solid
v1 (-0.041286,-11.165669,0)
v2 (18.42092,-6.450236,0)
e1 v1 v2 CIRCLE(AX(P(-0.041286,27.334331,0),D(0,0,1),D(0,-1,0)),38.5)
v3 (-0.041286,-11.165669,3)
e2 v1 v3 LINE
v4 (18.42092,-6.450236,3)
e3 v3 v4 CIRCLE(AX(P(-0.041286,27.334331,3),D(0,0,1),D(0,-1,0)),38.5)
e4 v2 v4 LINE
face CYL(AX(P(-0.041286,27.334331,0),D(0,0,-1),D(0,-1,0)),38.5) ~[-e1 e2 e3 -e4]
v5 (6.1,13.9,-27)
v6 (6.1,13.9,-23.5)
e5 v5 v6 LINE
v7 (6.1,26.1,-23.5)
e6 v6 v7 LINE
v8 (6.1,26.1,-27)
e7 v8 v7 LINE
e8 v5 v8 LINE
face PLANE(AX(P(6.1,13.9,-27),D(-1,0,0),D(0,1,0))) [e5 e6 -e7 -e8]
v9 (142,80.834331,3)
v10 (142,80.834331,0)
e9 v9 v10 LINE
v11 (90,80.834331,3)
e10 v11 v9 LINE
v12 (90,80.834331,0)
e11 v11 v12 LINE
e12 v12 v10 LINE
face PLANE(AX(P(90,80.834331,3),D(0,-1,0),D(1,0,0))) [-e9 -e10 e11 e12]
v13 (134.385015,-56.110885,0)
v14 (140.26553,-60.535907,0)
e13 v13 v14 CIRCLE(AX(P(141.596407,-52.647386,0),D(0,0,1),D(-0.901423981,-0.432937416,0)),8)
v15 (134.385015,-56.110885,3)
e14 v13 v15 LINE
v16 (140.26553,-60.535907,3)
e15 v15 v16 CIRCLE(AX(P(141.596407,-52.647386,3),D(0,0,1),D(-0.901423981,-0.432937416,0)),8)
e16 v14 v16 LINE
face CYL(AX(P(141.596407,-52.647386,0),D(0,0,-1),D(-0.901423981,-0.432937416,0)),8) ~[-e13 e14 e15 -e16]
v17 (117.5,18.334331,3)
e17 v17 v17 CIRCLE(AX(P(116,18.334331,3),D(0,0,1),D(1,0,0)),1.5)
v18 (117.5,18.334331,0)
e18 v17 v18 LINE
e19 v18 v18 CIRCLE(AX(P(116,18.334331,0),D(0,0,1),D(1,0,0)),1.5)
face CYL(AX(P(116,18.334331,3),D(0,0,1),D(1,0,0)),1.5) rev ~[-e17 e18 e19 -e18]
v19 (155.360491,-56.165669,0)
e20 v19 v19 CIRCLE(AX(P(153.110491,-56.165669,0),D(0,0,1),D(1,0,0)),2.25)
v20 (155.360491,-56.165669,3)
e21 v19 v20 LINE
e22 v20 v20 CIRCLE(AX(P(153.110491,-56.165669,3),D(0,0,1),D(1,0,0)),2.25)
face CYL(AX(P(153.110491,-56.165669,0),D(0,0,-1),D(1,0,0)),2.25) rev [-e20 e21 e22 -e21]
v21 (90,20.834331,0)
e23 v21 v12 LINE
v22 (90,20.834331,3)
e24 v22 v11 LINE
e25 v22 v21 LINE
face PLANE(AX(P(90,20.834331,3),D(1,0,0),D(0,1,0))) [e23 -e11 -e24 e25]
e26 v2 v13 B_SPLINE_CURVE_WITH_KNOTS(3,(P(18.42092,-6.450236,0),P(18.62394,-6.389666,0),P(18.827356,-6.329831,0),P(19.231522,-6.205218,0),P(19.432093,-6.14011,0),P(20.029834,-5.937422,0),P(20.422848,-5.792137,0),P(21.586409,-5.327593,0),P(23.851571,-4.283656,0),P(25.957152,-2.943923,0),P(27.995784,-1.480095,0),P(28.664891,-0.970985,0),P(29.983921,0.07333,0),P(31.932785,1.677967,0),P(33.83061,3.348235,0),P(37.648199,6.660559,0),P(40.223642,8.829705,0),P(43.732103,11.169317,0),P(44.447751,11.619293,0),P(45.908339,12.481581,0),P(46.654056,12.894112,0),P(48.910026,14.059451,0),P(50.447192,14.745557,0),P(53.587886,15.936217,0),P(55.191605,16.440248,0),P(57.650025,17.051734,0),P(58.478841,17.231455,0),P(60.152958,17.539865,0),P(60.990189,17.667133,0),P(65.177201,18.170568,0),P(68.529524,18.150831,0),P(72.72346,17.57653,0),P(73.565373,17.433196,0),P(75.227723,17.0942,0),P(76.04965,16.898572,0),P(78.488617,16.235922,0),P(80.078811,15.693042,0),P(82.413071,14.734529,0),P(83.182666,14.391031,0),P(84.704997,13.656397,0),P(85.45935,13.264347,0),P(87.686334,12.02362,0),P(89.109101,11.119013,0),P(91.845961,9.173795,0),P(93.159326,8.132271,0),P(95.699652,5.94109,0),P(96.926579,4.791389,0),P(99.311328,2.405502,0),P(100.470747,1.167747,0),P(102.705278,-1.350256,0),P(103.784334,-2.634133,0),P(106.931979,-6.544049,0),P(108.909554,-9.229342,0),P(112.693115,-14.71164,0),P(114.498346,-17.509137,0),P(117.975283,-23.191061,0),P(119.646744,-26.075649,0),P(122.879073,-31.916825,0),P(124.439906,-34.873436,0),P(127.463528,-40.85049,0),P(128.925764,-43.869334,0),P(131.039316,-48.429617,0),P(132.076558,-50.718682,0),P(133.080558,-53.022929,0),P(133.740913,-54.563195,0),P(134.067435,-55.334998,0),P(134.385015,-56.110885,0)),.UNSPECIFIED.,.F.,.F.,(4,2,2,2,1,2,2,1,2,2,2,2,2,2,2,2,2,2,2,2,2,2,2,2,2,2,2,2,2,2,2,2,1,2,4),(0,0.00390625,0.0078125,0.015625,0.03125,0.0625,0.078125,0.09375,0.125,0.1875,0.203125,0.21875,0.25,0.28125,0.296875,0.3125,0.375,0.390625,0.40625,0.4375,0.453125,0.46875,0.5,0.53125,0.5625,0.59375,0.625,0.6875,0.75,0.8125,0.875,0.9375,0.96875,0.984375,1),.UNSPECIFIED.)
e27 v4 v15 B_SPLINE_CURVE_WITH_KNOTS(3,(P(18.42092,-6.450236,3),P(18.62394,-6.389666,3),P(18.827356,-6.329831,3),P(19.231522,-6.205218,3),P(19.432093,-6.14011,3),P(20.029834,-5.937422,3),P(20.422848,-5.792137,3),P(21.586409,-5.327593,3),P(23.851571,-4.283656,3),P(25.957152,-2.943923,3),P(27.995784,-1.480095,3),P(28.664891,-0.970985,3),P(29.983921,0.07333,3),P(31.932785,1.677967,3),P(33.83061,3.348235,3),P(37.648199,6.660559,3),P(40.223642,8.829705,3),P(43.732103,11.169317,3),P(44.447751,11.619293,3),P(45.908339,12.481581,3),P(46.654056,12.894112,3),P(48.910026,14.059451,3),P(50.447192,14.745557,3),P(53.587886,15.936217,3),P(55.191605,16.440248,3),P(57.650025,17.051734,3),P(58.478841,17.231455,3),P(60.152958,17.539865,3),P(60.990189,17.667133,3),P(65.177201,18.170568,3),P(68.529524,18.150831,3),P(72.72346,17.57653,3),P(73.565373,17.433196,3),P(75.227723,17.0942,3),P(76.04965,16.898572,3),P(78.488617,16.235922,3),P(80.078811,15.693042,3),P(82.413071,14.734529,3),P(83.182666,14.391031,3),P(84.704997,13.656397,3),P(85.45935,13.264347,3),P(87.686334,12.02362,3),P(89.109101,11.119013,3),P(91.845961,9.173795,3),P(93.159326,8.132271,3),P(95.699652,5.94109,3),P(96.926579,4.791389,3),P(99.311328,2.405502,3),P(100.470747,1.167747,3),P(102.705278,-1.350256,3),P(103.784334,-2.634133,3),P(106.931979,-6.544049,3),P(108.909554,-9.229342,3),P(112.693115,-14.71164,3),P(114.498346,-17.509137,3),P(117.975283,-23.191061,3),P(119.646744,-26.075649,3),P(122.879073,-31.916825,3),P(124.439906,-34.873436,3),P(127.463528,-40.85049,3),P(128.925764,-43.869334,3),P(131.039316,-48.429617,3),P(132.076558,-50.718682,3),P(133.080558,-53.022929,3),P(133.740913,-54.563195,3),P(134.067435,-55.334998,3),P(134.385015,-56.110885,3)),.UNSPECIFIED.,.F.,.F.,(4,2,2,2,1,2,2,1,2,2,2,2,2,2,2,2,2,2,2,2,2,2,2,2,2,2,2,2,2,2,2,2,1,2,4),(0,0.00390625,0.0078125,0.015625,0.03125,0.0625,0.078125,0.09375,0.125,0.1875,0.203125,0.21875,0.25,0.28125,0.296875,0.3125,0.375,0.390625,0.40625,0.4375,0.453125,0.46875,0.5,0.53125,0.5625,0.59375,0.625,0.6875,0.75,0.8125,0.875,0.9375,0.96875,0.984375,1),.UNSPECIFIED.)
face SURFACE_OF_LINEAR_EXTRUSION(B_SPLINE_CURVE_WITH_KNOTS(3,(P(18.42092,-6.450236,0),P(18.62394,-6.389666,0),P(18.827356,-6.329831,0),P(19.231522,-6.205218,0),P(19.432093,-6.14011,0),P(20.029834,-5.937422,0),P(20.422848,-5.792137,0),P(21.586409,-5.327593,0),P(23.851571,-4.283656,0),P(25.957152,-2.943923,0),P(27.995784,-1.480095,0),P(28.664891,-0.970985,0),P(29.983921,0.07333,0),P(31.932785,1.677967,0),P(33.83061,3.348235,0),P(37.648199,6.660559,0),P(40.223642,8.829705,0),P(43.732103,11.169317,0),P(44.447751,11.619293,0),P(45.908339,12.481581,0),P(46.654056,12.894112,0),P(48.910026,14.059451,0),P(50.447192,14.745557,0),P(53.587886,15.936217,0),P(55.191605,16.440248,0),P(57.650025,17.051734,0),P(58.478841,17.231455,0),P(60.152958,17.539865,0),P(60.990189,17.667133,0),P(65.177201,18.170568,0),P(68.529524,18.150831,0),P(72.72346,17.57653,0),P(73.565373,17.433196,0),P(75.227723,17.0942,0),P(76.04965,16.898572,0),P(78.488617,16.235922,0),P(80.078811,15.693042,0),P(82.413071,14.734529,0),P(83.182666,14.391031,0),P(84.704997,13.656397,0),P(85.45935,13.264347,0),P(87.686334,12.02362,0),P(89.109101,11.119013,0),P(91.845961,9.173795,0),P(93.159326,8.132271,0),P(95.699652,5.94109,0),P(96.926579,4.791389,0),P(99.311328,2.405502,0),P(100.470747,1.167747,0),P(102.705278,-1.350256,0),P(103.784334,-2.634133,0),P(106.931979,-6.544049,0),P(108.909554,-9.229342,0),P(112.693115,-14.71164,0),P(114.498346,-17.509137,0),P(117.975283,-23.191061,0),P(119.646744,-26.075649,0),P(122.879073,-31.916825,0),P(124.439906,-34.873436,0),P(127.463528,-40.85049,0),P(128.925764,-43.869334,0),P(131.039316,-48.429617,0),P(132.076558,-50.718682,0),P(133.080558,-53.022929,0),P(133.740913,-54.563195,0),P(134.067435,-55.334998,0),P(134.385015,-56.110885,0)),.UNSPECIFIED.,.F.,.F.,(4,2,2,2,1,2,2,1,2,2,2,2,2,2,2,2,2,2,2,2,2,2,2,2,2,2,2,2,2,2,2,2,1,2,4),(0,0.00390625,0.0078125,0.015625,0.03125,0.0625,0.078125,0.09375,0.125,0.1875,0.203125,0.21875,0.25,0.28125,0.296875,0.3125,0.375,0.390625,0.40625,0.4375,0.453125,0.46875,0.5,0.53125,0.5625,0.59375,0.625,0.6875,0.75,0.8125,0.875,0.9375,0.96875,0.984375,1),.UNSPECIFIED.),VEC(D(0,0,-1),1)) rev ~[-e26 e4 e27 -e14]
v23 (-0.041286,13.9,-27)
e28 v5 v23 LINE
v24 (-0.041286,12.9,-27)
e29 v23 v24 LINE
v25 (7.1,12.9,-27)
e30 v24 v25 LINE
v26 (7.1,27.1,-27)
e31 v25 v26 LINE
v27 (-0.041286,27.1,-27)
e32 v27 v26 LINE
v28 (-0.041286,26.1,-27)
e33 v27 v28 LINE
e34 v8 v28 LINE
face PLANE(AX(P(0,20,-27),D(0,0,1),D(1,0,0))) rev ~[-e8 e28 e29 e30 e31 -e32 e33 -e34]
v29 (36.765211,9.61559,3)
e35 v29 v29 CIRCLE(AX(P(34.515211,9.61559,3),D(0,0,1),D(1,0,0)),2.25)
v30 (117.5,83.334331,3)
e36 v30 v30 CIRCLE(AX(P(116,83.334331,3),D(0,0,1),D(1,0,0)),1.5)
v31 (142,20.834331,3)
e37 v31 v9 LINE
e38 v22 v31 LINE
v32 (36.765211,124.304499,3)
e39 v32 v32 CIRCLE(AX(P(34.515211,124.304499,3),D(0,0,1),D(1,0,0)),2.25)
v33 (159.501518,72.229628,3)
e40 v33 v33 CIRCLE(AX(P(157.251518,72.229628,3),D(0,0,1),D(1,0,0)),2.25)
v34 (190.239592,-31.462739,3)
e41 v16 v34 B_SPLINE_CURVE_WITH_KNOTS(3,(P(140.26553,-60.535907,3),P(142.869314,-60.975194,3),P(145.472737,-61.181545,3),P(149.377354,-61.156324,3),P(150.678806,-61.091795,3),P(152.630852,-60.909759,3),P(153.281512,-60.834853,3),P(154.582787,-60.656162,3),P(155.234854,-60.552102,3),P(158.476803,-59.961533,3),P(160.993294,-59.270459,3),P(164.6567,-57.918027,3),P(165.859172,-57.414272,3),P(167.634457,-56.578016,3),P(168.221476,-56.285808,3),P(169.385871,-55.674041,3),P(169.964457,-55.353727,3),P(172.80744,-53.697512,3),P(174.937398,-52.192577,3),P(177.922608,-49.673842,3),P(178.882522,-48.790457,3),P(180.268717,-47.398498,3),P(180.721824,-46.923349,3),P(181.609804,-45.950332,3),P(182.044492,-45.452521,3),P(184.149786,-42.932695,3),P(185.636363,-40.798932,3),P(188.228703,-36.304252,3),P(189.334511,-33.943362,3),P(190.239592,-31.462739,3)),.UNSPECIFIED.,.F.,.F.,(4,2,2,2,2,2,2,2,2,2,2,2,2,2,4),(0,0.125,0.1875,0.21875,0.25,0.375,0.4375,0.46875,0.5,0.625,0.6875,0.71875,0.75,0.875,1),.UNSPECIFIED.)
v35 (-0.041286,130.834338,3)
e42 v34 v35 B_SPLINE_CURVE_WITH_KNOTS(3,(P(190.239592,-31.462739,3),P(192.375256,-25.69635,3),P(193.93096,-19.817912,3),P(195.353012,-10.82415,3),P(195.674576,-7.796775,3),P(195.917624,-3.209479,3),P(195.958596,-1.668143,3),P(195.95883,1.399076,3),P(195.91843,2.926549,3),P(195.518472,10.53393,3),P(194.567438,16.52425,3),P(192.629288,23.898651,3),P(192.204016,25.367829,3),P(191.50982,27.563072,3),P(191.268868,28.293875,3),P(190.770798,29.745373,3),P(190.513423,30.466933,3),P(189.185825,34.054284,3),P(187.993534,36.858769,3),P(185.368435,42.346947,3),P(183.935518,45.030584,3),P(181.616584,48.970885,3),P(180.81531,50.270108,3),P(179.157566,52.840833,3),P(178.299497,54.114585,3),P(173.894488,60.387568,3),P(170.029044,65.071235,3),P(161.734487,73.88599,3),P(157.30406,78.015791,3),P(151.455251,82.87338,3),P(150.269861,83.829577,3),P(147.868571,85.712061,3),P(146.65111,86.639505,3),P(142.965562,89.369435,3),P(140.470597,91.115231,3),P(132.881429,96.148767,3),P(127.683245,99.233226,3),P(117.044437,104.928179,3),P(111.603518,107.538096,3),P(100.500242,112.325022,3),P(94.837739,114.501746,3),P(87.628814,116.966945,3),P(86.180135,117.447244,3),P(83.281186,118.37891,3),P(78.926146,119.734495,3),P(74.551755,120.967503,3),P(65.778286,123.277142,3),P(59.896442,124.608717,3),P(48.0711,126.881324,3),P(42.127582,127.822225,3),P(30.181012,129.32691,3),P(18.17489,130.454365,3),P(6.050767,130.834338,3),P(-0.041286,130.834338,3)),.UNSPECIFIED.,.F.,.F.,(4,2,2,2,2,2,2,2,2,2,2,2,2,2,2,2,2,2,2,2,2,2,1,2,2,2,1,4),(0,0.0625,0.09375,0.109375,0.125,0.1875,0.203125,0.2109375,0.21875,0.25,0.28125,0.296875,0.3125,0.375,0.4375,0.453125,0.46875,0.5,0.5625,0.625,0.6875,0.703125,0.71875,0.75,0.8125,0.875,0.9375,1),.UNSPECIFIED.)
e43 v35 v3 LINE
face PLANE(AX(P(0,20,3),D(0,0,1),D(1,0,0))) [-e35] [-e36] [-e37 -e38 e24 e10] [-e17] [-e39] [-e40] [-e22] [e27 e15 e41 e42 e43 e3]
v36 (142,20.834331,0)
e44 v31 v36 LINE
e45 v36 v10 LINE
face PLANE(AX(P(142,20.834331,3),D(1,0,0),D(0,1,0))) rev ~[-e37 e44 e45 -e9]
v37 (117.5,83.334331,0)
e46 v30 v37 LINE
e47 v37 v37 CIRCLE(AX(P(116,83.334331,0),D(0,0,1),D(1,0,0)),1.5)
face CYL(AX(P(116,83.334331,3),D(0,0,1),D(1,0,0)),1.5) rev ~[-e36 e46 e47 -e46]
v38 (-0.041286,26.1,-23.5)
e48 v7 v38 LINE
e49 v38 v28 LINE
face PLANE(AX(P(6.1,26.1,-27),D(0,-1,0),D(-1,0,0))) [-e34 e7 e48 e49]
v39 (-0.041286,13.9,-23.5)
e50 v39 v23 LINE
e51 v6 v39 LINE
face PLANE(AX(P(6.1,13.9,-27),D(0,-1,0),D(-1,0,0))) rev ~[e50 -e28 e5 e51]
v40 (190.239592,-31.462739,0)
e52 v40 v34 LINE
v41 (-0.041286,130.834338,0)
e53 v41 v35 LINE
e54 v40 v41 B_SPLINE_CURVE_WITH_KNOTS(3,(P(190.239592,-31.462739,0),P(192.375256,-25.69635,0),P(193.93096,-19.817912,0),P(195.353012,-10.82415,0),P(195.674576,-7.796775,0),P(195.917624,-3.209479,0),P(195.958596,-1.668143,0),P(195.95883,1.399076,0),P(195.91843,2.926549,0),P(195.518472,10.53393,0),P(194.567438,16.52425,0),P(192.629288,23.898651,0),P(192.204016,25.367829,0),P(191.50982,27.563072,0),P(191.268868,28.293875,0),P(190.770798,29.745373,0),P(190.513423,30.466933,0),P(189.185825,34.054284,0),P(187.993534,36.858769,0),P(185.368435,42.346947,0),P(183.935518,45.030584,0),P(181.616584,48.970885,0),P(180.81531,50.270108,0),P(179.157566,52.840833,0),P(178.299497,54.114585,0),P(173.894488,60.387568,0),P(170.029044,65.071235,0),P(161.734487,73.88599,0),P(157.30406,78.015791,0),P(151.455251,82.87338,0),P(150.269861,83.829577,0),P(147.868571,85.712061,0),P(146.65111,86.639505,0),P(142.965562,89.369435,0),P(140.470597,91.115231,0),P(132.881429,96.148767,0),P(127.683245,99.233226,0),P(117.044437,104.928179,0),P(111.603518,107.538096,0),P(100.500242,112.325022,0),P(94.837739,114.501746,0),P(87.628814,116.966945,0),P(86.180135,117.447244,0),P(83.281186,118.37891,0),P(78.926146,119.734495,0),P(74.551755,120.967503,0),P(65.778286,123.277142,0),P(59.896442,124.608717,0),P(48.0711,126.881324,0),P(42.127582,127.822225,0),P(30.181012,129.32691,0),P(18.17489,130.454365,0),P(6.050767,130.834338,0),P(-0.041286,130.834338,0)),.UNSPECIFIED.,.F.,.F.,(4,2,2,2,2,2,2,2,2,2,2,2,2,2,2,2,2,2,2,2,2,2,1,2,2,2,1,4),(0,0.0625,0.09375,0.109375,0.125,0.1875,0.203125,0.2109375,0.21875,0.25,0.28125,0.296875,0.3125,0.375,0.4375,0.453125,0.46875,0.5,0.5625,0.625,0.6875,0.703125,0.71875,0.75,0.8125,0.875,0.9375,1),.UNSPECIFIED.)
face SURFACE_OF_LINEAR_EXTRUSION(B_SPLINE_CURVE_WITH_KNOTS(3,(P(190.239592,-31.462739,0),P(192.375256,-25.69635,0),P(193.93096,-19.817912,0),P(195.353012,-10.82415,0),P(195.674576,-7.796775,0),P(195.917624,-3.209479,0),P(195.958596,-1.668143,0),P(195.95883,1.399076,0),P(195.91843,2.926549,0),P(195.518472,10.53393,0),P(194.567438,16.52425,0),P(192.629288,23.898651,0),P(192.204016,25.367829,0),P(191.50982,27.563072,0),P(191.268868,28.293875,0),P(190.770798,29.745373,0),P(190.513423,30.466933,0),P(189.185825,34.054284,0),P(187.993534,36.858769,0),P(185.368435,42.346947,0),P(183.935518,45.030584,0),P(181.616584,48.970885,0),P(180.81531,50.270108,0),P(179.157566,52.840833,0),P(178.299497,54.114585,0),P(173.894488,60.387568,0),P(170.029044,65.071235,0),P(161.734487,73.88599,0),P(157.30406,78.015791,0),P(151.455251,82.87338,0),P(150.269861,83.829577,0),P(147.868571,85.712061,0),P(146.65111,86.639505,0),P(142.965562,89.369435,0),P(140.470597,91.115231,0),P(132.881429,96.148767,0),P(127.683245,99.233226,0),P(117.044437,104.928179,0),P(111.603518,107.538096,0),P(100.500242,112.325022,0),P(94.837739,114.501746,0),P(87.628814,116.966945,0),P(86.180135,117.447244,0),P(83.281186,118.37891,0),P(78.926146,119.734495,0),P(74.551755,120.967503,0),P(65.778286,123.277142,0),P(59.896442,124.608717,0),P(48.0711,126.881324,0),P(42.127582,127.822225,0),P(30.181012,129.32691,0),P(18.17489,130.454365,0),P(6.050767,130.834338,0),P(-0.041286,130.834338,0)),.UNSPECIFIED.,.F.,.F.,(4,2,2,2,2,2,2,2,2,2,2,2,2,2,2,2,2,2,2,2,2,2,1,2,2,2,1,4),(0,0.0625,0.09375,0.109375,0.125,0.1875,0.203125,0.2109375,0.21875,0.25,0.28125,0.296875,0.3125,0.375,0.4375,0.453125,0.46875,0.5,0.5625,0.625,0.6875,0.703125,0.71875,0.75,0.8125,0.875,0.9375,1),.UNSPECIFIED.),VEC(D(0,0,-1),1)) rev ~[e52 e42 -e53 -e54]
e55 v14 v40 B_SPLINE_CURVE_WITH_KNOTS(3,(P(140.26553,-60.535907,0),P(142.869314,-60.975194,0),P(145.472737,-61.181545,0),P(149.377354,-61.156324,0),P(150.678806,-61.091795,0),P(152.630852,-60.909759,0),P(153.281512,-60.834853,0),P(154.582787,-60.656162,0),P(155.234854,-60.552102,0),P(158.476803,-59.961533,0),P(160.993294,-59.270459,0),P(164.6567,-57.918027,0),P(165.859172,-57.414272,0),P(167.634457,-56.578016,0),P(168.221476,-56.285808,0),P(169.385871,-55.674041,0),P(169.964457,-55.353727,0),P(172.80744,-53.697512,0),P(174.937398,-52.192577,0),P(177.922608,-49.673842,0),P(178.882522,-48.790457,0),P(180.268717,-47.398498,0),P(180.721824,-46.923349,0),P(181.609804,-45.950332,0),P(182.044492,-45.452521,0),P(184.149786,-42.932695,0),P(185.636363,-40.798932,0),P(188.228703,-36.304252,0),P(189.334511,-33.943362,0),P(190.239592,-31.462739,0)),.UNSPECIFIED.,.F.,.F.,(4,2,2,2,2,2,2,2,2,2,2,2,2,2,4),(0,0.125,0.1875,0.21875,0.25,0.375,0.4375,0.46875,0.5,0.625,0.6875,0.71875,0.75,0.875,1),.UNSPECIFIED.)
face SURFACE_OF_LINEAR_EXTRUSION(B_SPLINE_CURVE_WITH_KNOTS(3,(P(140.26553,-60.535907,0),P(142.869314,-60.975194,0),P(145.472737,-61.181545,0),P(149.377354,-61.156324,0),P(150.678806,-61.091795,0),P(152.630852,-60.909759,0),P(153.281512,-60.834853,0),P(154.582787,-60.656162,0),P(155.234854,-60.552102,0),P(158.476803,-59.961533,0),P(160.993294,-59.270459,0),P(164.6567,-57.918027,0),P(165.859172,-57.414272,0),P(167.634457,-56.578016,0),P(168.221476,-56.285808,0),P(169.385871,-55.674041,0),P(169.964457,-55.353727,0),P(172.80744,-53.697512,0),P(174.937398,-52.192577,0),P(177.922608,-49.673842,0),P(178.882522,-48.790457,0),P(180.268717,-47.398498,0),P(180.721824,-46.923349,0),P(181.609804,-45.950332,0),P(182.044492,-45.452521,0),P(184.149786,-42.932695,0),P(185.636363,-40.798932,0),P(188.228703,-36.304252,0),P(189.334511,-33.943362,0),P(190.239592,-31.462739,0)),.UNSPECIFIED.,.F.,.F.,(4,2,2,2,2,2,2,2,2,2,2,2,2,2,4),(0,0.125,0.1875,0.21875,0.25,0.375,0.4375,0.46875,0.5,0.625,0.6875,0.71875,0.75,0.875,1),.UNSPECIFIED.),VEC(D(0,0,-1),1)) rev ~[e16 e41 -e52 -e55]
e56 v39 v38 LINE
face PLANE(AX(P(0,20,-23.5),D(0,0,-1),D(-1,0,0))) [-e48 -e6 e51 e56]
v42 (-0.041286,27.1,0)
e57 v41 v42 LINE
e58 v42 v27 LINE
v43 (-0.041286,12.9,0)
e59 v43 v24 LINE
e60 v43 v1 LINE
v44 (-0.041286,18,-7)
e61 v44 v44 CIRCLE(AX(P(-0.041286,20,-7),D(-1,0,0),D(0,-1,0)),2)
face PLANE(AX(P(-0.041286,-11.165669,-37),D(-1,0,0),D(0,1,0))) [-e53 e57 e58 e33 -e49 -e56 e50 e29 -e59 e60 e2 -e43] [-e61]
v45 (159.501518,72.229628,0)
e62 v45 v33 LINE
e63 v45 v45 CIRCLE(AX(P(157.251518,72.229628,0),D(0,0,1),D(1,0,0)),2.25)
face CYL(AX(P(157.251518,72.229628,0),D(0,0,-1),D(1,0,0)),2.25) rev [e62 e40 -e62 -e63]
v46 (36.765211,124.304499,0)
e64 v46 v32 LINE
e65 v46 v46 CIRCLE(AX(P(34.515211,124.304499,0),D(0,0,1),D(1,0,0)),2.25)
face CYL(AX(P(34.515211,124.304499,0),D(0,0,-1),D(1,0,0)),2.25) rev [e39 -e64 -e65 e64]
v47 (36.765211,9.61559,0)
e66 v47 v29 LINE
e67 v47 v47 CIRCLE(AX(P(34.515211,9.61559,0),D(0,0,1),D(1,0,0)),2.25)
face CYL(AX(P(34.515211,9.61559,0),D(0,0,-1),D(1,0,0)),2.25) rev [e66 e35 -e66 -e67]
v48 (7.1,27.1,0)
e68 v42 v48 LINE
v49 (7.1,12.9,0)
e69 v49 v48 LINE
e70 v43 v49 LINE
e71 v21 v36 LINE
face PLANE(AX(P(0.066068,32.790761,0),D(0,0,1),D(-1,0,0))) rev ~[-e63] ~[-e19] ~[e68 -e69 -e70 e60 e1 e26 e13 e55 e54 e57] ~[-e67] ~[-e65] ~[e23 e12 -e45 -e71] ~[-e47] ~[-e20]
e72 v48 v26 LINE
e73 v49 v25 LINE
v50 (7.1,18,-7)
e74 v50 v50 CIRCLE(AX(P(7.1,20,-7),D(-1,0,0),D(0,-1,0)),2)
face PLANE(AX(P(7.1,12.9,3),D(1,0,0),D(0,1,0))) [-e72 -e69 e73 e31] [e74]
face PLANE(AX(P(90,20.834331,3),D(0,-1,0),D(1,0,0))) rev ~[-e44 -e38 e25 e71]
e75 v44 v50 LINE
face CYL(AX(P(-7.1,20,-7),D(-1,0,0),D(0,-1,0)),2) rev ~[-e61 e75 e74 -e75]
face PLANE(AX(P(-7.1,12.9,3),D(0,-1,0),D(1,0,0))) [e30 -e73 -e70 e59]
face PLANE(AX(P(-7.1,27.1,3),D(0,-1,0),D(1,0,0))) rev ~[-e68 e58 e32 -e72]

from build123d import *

# Parameters (mm, degrees)
CROQUIS7_R                 = 2.25
CROQUIS7_R_2               = 2
SALIENTE_EXTRUIR5_DEPTH    = 3
CROQUIS8_W                 = 14.2
CROQUIS8_H                 = 14.2
SALIENTE_EXTRUIR6_DEPTH    = 30
CROQUIS9_W                 = 12.2
CROQUIS9_H                 = 12.2
CORTAR_EXTRUIR3_DEPTH      = 3.5
CROQUIS10_R                = 1.5
CROQUIS10_W                = 52
CROQUIS10_H                = 60
CORTAR_EXTRUIR4_DEPTH      = 10
CROQUIS11_R                = 2
CORTAR_EXTRUIR5_DEPTH      = 244.062677057
CORTAR_EXTRUIR6_DEPTH      = 10
CORTAR_EXTRUIR6_DEPTH_BACK = 40


with BuildPart() as part:
    # Croquis7 → Saliente-Extruir5 (new body)
    with BuildSketch(Plane(origin=(0, 0, 0), x_dir=(-1, 0, 0), z_dir=(0, 0, 1))):
        with BuildLine():
            ThreePointArc((140.348102944, 60.535906772), (136.868803986, 59.039740818), (134.467588313, 56.110884882))
            add(Edge.make_bspline(
                [(134.467588313, 56.110884882), (134.149654238, 55.334133411), (133.822967437, 54.561974551), (133.162468089, 53.021395753), (132.827829682, 52.253409151), (131.813137405, 49.95510413), (129.740491118, 45.381193792), (127.554094799, 40.866968809), (124.537000873, 34.901469121), (122.977142227, 31.945642839), (119.740627649, 26.095274542), (118.063871011, 23.200785369), (115.441409795, 18.91536637), (114.549338579, 17.496294783), (112.72383113, 14.679856092), (111.790405163, 13.282650688), (108.93090019, 9.143306555), (106.942158815, 6.448783713), (103.789519774, 2.5408027), (102.709995436, 1.260750849), (101.03852657, -0.618140745), (100.472644941, -1.237551258), (99.321371183, -2.460973153), (98.735216612, -3.065706766), (96.949611744, -4.848397798), (95.725315546, -5.992490783), (93.193460811, -8.17168186), (91.885551874, -9.206321258), (89.163749912, -11.136861166), (87.750446472, -12.033533472), (85.542380661, -13.263200338), (84.789940556, -13.654501875), (83.273337808, -14.386945731), (82.507210908, -14.729300557), (80.185156663, -15.684162987), (78.605545886, -16.224438396), (76.18690973, -16.88473526), (75.372506069, -17.079850593), (73.726807841, -17.418565616), (72.893614615, -17.562445585), (68.705243638, -18.145869815), (65.366316414, -18.172349369), (61.206552273, -17.685687456), (60.375297364, -17.562248247), (58.714202725, -17.262432714), (57.885084071, -17.085992517), (55.432802766, -16.486020136), (53.833347943, -15.990242323), (50.701372835, -14.817551431), (49.168805031, -14.140766948), (46.919374597, -12.991848579), (46.176109393, -12.585433423), (44.71844096, -11.734682347), (44.00330992, -11.290078896), (41.89786804, -9.900210079), (40.548675898, -8.897248108), (37.915404815, -6.799959147), (36.631444442, -5.705240729), (34.080234787, -3.494531224), (32.813017874, -2.37801674), (30.236662295, -0.200762722), (28.927839074, 0.860396497), (26.200660035, 2.836986891), (24.782534521, 3.752724475), (22.513326989, 4.937380803), (21.731218891, 5.30092632), (20.538800155, 5.779648827), (20.137325925, 5.928599802), (19.528876591, 6.135464876), (19.325056364, 6.201754934), (18.915138447, 6.32828856), (18.709169476, 6.388873867), (18.503492991, 6.450235701)],
                knots=[0, 0, 0, 0, 0.015625, 0.015625, 0.03125, 0.03125, 0.0625, 0.125, 0.125, 0.1875, 0.1875, 0.25, 0.25, 0.28125, 0.28125, 0.3125, 0.3125, 0.375, 0.375, 0.40625, 0.40625, 0.421875, 0.421875, 0.4375, 0.4375, 0.46875, 0.46875, 0.5, 0.5, 0.53125, 0.53125, 0.546875, 0.546875, 0.5625, 0.5625, 0.59375, 0.59375, 0.609375, 0.609375, 0.625, 0.625, 0.6875, 0.6875, 0.703125, 0.703125, 0.71875, 0.71875, 0.75, 0.75, 0.78125, 0.78125, 0.796875, 0.796875, 0.8125, 0.8125, 0.84375, 0.84375, 0.875, 0.875, 0.90625, 0.90625, 0.9375, 0.9375, 0.96875, 0.96875, 0.984375, 0.984375, 0.9921875, 0.9921875, 0.99609375, 0.99609375, 1, 1, 1, 1], degree=3))
            ThreePointArc((18.503492991, 6.450235701), (9.568725558, 9.968187997), (0.041286445, 11.165669263))
            ThreePointArc((0.041286445, 11.165669263), (-9.486152668, 9.968187997), (-18.420920101, 6.450235701))
            add(Edge.make_bspline(
                [(-18.420920101, 6.450235701), (-18.623940111, 6.389666404), (-18.827355959, 6.329830822), (-19.231521602, 6.205217931), (-19.432092857, 6.140109685), (-20.029834347, 5.937422038), (-20.422847663, 5.792137477), (-21.586408936, 5.327592923), (-23.851571133, 4.283655696), (-25.957152112, 2.943922804), (-27.995784216, 1.480095188), (-28.664890842, 0.970984568), (-29.983921002, -0.073329511), (-31.932785293, -1.677966714), (-33.830609801, -3.348234863), (-37.648198778, -6.660559044), (-40.223642402, -8.829704647), (-43.732103414, -11.16931662), (-44.447751487, -11.619293464), (-45.90833942, -12.481581481), (-46.654055565, -12.894111913), (-48.910026429, -14.05945093), (-50.447191979, -14.745557377), (-53.587886072, -15.936216829), (-55.191605427, -16.440247818), (-57.65002542, -17.051733947), (-58.478840799, -17.231454942), (-60.152957814, -17.539864916), (-60.990189376, -17.667132679), (-65.177200996, -18.170568112), (-68.529524477, -18.150830669), (-72.723459823, -17.57652989), (-73.56537326, -17.433195972), (-75.227722525, -17.094199895), (-76.049649818, -16.898572429), (-78.48861692, -16.235921786), (-80.078810549, -15.693041625), (-82.413070582, -14.734529063), (-83.182665748, -14.391031128), (-84.704996506, -13.656396586), (-85.459349689, -13.264347284), (-87.686334065, -12.023619951), (-89.109100698, -11.119013238), (-91.845960574, -9.173794538), (-93.159325686, -8.13227129), (-95.699651961, -5.941089833), (-96.92657944, -4.791389468), (-99.311327975, -2.405501713), (-100.470747098, -1.167746926), (-102.705277757, 1.350255866), (-103.784333544, 2.63413345), (-106.931979291, 6.54404893), (-108.909553818, 9.229342103), (-112.69311531, 14.711639925), (-114.498345943, 17.509136981), (-117.975283478, 23.191061246), (-119.646743776, 26.075649006), (-122.879072623, 31.916824892), (-124.439905913, 34.873435974), (-127.463527635, 40.850489896), (-128.925763536, 43.869333899), (-131.039316303, 48.429617131), (-132.076557677, 50.718681564), (-133.080557539, 53.0229294), (-133.740912999, 54.563195318), (-134.0674355, 55.334997841), (-134.385015461, 56.110884961)],
                knots=[0, 0, 0, 0, 0.00390625, 0.00390625, 0.0078125, 0.0078125, 0.015625, 0.015625, 0.03125, 0.0625, 0.0625, 0.078125, 0.078125, 0.09375, 0.125, 0.125, 0.1875, 0.1875, 0.203125, 0.203125, 0.21875, 0.21875, 0.25, 0.25, 0.28125, 0.28125, 0.296875, 0.296875, 0.3125, 0.3125, 0.375, 0.375, 0.390625, 0.390625, 0.40625, 0.40625, 0.4375, 0.4375, 0.453125, 0.453125, 0.46875, 0.46875, 0.5, 0.5, 0.53125, 0.53125, 0.5625, 0.5625, 0.59375, 0.59375, 0.625, 0.625, 0.6875, 0.6875, 0.75, 0.75, 0.8125, 0.8125, 0.875, 0.875, 0.9375, 0.9375, 0.96875, 0.984375, 0.984375, 1, 1, 1, 1], degree=3))
            ThreePointArc((-134.385015461, 56.110884961), (-136.786231132, 59.039740844), (-140.265530055, 60.535906772))
            add(Edge.make_bspline(
                [(-140.265530055, 60.535906772), (-142.869313612, 60.975194236), (-145.472736764, 61.181545126), (-149.377353564, 61.156324129), (-150.678805664, 61.091795359), (-152.630851923, 60.909758714), (-153.281511997, 60.834852812), (-154.582787463, 60.656161872), (-155.234853603, 60.552101706), (-158.476802726, 59.961533397), (-160.993294496, 59.270458626), (-164.656700058, 57.918026872), (-165.859171506, 57.414272212), (-167.634457246, 56.578016163), (-168.221475639, 56.285808038), (-169.38587085, 55.674041203), (-169.964457435, 55.353726594), (-172.807439805, 53.697511994), (-174.937398486, 52.192576754), (-177.922607968, 49.673841605), (-178.882521506, 48.790456721), (-180.268716868, 47.398497719), (-180.721823613, 46.9233488), (-181.609804133, 45.950331764), (-182.044492036, 45.452521121), (-184.149785555, 42.932694997), (-185.636363328, 40.798932433), (-188.228703234, 36.30425224), (-189.334510792, 33.943361708), (-190.239592269, 31.46273884)],
                knots=[0, 0, 0, 0, 0.125, 0.125, 0.1875, 0.1875, 0.21875, 0.21875, 0.25, 0.25, 0.375, 0.375, 0.4375, 0.4375, 0.46875, 0.46875, 0.5, 0.5, 0.625, 0.625, 0.6875, 0.6875, 0.71875, 0.71875, 0.75, 0.75, 0.875, 0.875, 1, 1, 1, 1], degree=3))
            add(Edge.make_bspline(
                [(-190.239592269, 31.46273884), (-192.375255576, 25.696350204), (-193.930960398, 19.817912179), (-195.353011767, 10.824149994), (-195.674576312, 7.796775057), (-195.917624035, 3.209479486), (-195.95859604, 1.668142737), (-195.958829749, -1.399076424), (-195.918430127, -2.92654924), (-195.518471979, -10.533929614), (-194.56743795, -16.524250265), (-192.629288141, -23.898650857), (-192.204015591, -25.3678295), (-191.509820309, -27.563072124), (-191.268868279, -28.293875271), (-190.770797886, -29.745373087), (-190.513422668, -30.466933466), (-189.18582541, -34.054284362), (-187.99353352, -36.858768915), (-185.368434906, -42.346946573), (-183.935518187, -45.030584436), (-181.616583515, -48.97088495), (-180.815309976, -50.270107971), (-179.15756631, -52.840833163), (-178.299496505, -54.114584529), (-173.894487634, -60.387567833), (-170.029043597, -65.071235074), (-161.734486632, -73.885990461), (-157.304059995, -78.015790745), (-151.455251464, -82.873380155), (-150.269861365, -83.829577122), (-147.868570878, -85.712061036), (-146.651110312, -86.639504887), (-142.965561618, -89.369434932), (-140.47059657, -91.115230775), (-132.88142891, -96.148767416), (-127.683244876, -99.23322641), (-117.044436945, -104.928178838), (-111.603518482, -107.538096399), (-100.500242462, -112.325022089), (-94.837739322, -114.501745604), (-87.628813583, -116.966944585), (-86.180135392, -117.447244101), (-83.281186284, -118.37891039), (-78.92614565, -119.734494508), (-74.551754575, -120.967502962), (-65.778285791, -123.277142009), (-59.896441582, -124.608717398), (-48.071099861, -126.88132439), (-42.127581641, -127.822224818), (-30.181011709, -129.326909852), (-18.174890213, -130.454364585), (-6.05076732, -130.834337664), (0.041286395, -130.834337718)],
                knots=[0, 0, 0, 0, 0.0625, 0.0625, 0.09375, 0.09375, 0.109375, 0.109375, 0.125, 0.125, 0.1875, 0.1875, 0.203125, 0.203125, 0.2109375, 0.2109375, 0.21875, 0.21875, 0.25, 0.25, 0.28125, 0.28125, 0.296875, 0.296875, 0.3125, 0.3125, 0.375, 0.375, 0.4375, 0.4375, 0.453125, 0.453125, 0.46875, 0.46875, 0.5, 0.5, 0.5625, 0.5625, 0.625, 0.625, 0.6875, 0.6875, 0.703125, 0.703125, 0.71875, 0.75, 0.75, 0.8125, 0.8125, 0.875, 0.875, 0.9375, 1, 1, 1, 1], degree=3))
            add(Edge.make_bspline(
                [(0.041286395, -130.834337718), (6.134538372, -130.834337861), (18.261394111, -130.454215542), (30.270890379, -129.326191765), (42.221146328, -127.820644803), (48.166664918, -126.879178393), (59.996316501, -124.605051093), (65.880471618, -123.272531195), (74.657643286, -120.961098273), (79.033976886, -119.727301499), (83.391005428, -118.370478603), (86.291297223, -117.437928825), (87.740322905, -116.957264458), (94.94849915, -114.491286465), (100.612718757, -112.313197934), (111.723756279, -107.520808049), (117.170703974, -104.9067671), (127.825648694, -99.19923472), (133.033931688, -96.106317082), (139.373186051, -91.896862023), (140.632464259, -91.037770104), (143.133063373, -89.283555245), (144.374861494, -88.388007586), (148.052238664, -85.660160511), (150.446425915, -83.782144112), (157.447735696, -77.960356266), (161.874926497, -73.830213662), (168.100826372, -67.205265408), (170.107260305, -64.925618709), (173.00207465, -61.387202315), (173.947865617, -60.187897794), (175.799183824, -57.747584062), (176.704009528, -56.507250952), (181.087838152, -50.248918472), (184.175371038, -45.022352222), (188.097143692, -36.810598338), (189.285816024, -34.01118958), (190.610308183, -30.427356556), (190.867135429, -29.70635937), (191.364231806, -28.255685919), (191.604838096, -27.524920821), (192.298313078, -25.328623504), (192.722722681, -23.859837654), (194.655712304, -16.493027919), (195.598905702, -10.526579041), (196.07921656, -1.463811899), (196.083096745, 1.576017168), (195.845385004, 6.165233834), (195.724990331, 7.703216662), (195.405329025, 10.754442145), (195.206051361, 12.271290951), (194.017367953, 19.812812816), (192.45374436, 25.709911997), (190.316013842, 31.479461946)],
                knots=[0, 0, 0, 0, 0.0625, 0.125, 0.125, 0.1875, 0.1875, 0.25, 0.25, 0.28125, 0.296875, 0.296875, 0.3125, 0.3125, 0.375, 0.375, 0.4375, 0.4375, 0.5, 0.5, 0.515625, 0.515625, 0.53125, 0.53125, 0.5625, 0.5625, 0.625, 0.625, 0.65625, 0.65625, 0.671875, 0.671875, 0.6875, 0.6875, 0.75, 0.75, 0.78125, 0.78125, 0.7890625, 0.7890625, 0.796875, 0.796875, 0.8125, 0.8125, 0.875, 0.875, 0.90625, 0.90625, 0.921875, 0.921875, 0.9375, 0.9375, 1, 1, 1, 1], degree=3))
            ThreePointArc((190.316013842, 31.479461946), (170.584652034, 55.040486981), (140.348102944, 60.535906772))
        make_face()
        with Locations(Location((-153.110491216, 56.165669263, 0), (0, 0, 180))):
            Circle(CROQUIS7_R, mode=Mode.SUBTRACT)
        with Locations(Location((-34.515211049, -9.615590181, 0), (0, 0, 180))):
            Circle(CROQUIS7_R, mode=Mode.SUBTRACT)
        with Locations(Location((34.597783939, -9.615590181, 0), (0, 0, 180))):
            Circle(CROQUIS7_R_2, mode=Mode.SUBTRACT)
        with Locations(Location((153.193064106, 56.165669263, 0), (0, 0, 180))):
            Circle(CROQUIS7_R_2, mode=Mode.SUBTRACT)
        with Locations(Location((-157.251517535, -72.229628149, 0), (0, 0, 180))):
            Circle(CROQUIS7_R, mode=Mode.SUBTRACT)
        with Locations(Location((-34.515211049, -124.304498834, 0), (0, 0, 180))):
            Circle(CROQUIS7_R, mode=Mode.SUBTRACT)
        with Locations(Location((34.597783939, -124.304498834, 0), (0, 0, 180))):
            Circle(CROQUIS7_R_2, mode=Mode.SUBTRACT)
        with Locations(Location((157.334090424, -71.312448831, 0), (0, 0, 180))):
            Circle(CROQUIS7_R_2, mode=Mode.SUBTRACT)
    extrude(amount=SALIENTE_EXTRUIR5_DEPTH)

    # Croquis8 → Saliente-Extruir6 (add)
    with BuildSketch(Plane.XY.offset(3)):
        with Locations((0, 20)):
            Rectangle(CROQUIS8_W, CROQUIS8_H)
    extrude(amount=-SALIENTE_EXTRUIR6_DEPTH)

    # Croquis9 → Cortar-Extruir3 (cut)
    with BuildSketch(Plane(origin=(0, 0, -27), x_dir=(-1, 0, 0), z_dir=(0, 0, -1))):
        with Locations((0, 20)):
            Rectangle(CROQUIS9_W, CROQUIS9_H)
    extrude(amount=-CORTAR_EXTRUIR3_DEPTH, mode=Mode.SUBTRACT)

    # Croquis10 → Cortar-Extruir4 (cut)
    with BuildSketch(Plane.XY.offset(3)):
        with Locations((116, 83.334330737)):
            Circle(CROQUIS10_R)
        with Locations((116, 18.334330737)):
            Circle(CROQUIS10_R)
        with Locations((116, 50.834330737)):
            Rectangle(CROQUIS10_W, CROQUIS10_H)
    extrude(amount=-CORTAR_EXTRUIR4_DEPTH, mode=Mode.SUBTRACT)

    # Croquis11 → Cortar-Extruir5 (cut, through all)
    with BuildSketch(Plane.ZY.offset(7.1)):
        with Locations(Location((-7, 20, 0), (0, 0, 270))):
            Circle(CROQUIS11_R)
    extrude(amount=-CORTAR_EXTRUIR5_DEPTH, mode=Mode.SUBTRACT)

    # Croquis12 → Cortar-Extruir6 (cut, two sides: drawn at the far end of the back side and taken through both)
    with BuildSketch(Plane.XY.offset(3).offset(-CORTAR_EXTRUIR6_DEPTH_BACK)):
        with BuildLine():
            Line((-0.041286395, -11.165669263), (-0.041286395, 130.834337718))
            add(Edge.make_bspline(
                [(-0.041286395, 130.834337718), (-6.134538372, 130.834337861), (-18.261394111, 130.454215542), (-30.270890379, 129.326191765), (-42.221146328, 127.820644803), (-48.166664918, 126.879178393), (-59.996316501, 124.605051093), (-65.880471618, 123.272531195), (-74.657643286, 120.961098273), (-79.033976886, 119.727301499), (-83.391005428, 118.370478603), (-86.291297223, 117.437928825), (-87.740322905, 116.957264458), (-94.94849915, 114.491286465), (-100.612718757, 112.313197934), (-111.723756279, 107.520808049), (-117.170703974, 104.9067671), (-127.825648694, 99.19923472), (-133.033931688, 96.106317082), (-139.373186051, 91.896862023), (-140.632464259, 91.037770104), (-143.133063373, 89.283555245), (-144.374861494, 88.388007586), (-148.052238664, 85.660160511), (-150.446425915, 83.782144112), (-157.447735696, 77.960356266), (-161.874926497, 73.830213662), (-168.100826372, 67.205265408), (-170.107260305, 64.925618709), (-173.00207465, 61.387202315), (-173.947865617, 60.187897794), (-175.799183824, 57.747584062), (-176.704009528, 56.507250952), (-181.087838152, 50.248918472), (-184.175371038, 45.022352222), (-188.097143692, 36.810598338), (-189.285816024, 34.01118958), (-190.610308183, 30.427356556), (-190.867135429, 29.70635937), (-191.364231806, 28.255685919), (-191.604838096, 27.524920821), (-192.298313078, 25.328623504), (-192.722722681, 23.859837654), (-194.655712304, 16.493027919), (-195.598905702, 10.526579041), (-196.07921656, 1.463811899), (-196.083096745, -1.576017168), (-195.845385004, -6.165233834), (-195.724990331, -7.703216662), (-195.405329025, -10.754442145), (-195.206051361, -12.271290951), (-194.017367953, -19.812812816), (-192.45374436, -25.709911997), (-190.316013842, -31.479461946)],
                knots=[0, 0, 0, 0, 0.0625, 0.125, 0.125, 0.1875, 0.1875, 0.25, 0.25, 0.28125, 0.296875, 0.296875, 0.3125, 0.3125, 0.375, 0.375, 0.4375, 0.4375, 0.5, 0.5, 0.515625, 0.515625, 0.53125, 0.53125, 0.5625, 0.5625, 0.625, 0.625, 0.65625, 0.65625, 0.671875, 0.671875, 0.6875, 0.6875, 0.75, 0.75, 0.78125, 0.78125, 0.7890625, 0.7890625, 0.796875, 0.796875, 0.8125, 0.8125, 0.875, 0.875, 0.90625, 0.90625, 0.921875, 0.921875, 0.9375, 0.9375, 1, 1, 1, 1], degree=3))
            ThreePointArc((-190.316013842, -31.479461946), (-170.584652034, -55.040486981), (-140.348102944, -60.535906772))
            ThreePointArc((-140.348102944, -60.535906772), (-136.868803986, -59.039740818), (-134.467588313, -56.110884882))
            add(Edge.make_bspline(
                [(-134.467588313, -56.110884882), (-134.149654238, -55.334133411), (-133.822967437, -54.561974551), (-133.162468089, -53.021395753), (-132.827829682, -52.253409151), (-131.813137405, -49.95510413), (-129.740491118, -45.381193792), (-127.554094799, -40.866968809), (-124.537000873, -34.901469121), (-122.977142227, -31.945642839), (-119.740627649, -26.095274542), (-118.063871011, -23.200785369), (-115.441409795, -18.91536637), (-114.549338579, -17.496294783), (-112.72383113, -14.679856092), (-111.790405163, -13.282650688), (-108.93090019, -9.143306555), (-106.942158815, -6.448783713), (-103.789519774, -2.5408027), (-102.709995436, -1.260750849), (-101.03852657, 0.618140745), (-100.472644941, 1.237551258), (-99.321371183, 2.460973153), (-98.735216612, 3.065706766), (-96.949611744, 4.848397798), (-95.725315546, 5.992490783), (-93.193460811, 8.17168186), (-91.885551874, 9.206321258), (-89.163749912, 11.136861166), (-87.750446472, 12.033533472), (-85.542380661, 13.263200338), (-84.789940556, 13.654501875), (-83.273337808, 14.386945731), (-82.507210908, 14.729300557), (-80.185156663, 15.684162987), (-78.605545886, 16.224438396), (-76.18690973, 16.88473526), (-75.372506069, 17.079850593), (-73.726807841, 17.418565616), (-72.893614615, 17.562445585), (-68.705243638, 18.145869815), (-65.366316414, 18.172349369), (-61.206552273, 17.685687456), (-60.375297364, 17.562248247), (-58.714202725, 17.262432714), (-57.885084071, 17.085992517), (-55.432802766, 16.486020136), (-53.833347943, 15.990242323), (-50.701372835, 14.817551431), (-49.168805031, 14.140766948), (-46.919374597, 12.991848579), (-46.176109393, 12.585433423), (-44.71844096, 11.734682347), (-44.00330992, 11.290078896), (-41.89786804, 9.900210079), (-40.548675898, 8.897248108), (-37.915404815, 6.799959147), (-36.631444442, 5.705240729), (-34.080234787, 3.494531224), (-32.813017874, 2.37801674), (-30.236662295, 0.200762722), (-28.927839074, -0.860396497), (-26.200660035, -2.836986891), (-24.782534521, -3.752724475), (-22.513326989, -4.937380803), (-21.731218891, -5.30092632), (-20.538800155, -5.779648827), (-20.137325925, -5.928599802), (-19.528876591, -6.135464876), (-19.325056364, -6.201754934), (-18.915138447, -6.32828856), (-18.709169476, -6.388873867), (-18.503492991, -6.450235701)],
                knots=[0, 0, 0, 0, 0.015625, 0.015625, 0.03125, 0.03125, 0.0625, 0.125, 0.125, 0.1875, 0.1875, 0.25, 0.25, 0.28125, 0.28125, 0.3125, 0.3125, 0.375, 0.375, 0.40625, 0.40625, 0.421875, 0.421875, 0.4375, 0.4375, 0.46875, 0.46875, 0.5, 0.5, 0.53125, 0.53125, 0.546875, 0.546875, 0.5625, 0.5625, 0.59375, 0.59375, 0.609375, 0.609375, 0.625, 0.625, 0.6875, 0.6875, 0.703125, 0.703125, 0.71875, 0.71875, 0.75, 0.75, 0.78125, 0.78125, 0.796875, 0.796875, 0.8125, 0.8125, 0.84375, 0.84375, 0.875, 0.875, 0.90625, 0.90625, 0.9375, 0.9375, 0.96875, 0.96875, 0.984375, 0.984375, 0.9921875, 0.9921875, 0.99609375, 0.99609375, 1, 1, 1, 1], degree=3))
            ThreePointArc((-18.503492991, -6.450235701), (-9.568725534, -9.968188003), (-0.041286395, -11.165669263))
        make_face()
    extrude(amount=CORTAR_EXTRUIR6_DEPTH + CORTAR_EXTRUIR6_DEPTH_BACK, mode=Mode.SUBTRACT)


solid = part.part
